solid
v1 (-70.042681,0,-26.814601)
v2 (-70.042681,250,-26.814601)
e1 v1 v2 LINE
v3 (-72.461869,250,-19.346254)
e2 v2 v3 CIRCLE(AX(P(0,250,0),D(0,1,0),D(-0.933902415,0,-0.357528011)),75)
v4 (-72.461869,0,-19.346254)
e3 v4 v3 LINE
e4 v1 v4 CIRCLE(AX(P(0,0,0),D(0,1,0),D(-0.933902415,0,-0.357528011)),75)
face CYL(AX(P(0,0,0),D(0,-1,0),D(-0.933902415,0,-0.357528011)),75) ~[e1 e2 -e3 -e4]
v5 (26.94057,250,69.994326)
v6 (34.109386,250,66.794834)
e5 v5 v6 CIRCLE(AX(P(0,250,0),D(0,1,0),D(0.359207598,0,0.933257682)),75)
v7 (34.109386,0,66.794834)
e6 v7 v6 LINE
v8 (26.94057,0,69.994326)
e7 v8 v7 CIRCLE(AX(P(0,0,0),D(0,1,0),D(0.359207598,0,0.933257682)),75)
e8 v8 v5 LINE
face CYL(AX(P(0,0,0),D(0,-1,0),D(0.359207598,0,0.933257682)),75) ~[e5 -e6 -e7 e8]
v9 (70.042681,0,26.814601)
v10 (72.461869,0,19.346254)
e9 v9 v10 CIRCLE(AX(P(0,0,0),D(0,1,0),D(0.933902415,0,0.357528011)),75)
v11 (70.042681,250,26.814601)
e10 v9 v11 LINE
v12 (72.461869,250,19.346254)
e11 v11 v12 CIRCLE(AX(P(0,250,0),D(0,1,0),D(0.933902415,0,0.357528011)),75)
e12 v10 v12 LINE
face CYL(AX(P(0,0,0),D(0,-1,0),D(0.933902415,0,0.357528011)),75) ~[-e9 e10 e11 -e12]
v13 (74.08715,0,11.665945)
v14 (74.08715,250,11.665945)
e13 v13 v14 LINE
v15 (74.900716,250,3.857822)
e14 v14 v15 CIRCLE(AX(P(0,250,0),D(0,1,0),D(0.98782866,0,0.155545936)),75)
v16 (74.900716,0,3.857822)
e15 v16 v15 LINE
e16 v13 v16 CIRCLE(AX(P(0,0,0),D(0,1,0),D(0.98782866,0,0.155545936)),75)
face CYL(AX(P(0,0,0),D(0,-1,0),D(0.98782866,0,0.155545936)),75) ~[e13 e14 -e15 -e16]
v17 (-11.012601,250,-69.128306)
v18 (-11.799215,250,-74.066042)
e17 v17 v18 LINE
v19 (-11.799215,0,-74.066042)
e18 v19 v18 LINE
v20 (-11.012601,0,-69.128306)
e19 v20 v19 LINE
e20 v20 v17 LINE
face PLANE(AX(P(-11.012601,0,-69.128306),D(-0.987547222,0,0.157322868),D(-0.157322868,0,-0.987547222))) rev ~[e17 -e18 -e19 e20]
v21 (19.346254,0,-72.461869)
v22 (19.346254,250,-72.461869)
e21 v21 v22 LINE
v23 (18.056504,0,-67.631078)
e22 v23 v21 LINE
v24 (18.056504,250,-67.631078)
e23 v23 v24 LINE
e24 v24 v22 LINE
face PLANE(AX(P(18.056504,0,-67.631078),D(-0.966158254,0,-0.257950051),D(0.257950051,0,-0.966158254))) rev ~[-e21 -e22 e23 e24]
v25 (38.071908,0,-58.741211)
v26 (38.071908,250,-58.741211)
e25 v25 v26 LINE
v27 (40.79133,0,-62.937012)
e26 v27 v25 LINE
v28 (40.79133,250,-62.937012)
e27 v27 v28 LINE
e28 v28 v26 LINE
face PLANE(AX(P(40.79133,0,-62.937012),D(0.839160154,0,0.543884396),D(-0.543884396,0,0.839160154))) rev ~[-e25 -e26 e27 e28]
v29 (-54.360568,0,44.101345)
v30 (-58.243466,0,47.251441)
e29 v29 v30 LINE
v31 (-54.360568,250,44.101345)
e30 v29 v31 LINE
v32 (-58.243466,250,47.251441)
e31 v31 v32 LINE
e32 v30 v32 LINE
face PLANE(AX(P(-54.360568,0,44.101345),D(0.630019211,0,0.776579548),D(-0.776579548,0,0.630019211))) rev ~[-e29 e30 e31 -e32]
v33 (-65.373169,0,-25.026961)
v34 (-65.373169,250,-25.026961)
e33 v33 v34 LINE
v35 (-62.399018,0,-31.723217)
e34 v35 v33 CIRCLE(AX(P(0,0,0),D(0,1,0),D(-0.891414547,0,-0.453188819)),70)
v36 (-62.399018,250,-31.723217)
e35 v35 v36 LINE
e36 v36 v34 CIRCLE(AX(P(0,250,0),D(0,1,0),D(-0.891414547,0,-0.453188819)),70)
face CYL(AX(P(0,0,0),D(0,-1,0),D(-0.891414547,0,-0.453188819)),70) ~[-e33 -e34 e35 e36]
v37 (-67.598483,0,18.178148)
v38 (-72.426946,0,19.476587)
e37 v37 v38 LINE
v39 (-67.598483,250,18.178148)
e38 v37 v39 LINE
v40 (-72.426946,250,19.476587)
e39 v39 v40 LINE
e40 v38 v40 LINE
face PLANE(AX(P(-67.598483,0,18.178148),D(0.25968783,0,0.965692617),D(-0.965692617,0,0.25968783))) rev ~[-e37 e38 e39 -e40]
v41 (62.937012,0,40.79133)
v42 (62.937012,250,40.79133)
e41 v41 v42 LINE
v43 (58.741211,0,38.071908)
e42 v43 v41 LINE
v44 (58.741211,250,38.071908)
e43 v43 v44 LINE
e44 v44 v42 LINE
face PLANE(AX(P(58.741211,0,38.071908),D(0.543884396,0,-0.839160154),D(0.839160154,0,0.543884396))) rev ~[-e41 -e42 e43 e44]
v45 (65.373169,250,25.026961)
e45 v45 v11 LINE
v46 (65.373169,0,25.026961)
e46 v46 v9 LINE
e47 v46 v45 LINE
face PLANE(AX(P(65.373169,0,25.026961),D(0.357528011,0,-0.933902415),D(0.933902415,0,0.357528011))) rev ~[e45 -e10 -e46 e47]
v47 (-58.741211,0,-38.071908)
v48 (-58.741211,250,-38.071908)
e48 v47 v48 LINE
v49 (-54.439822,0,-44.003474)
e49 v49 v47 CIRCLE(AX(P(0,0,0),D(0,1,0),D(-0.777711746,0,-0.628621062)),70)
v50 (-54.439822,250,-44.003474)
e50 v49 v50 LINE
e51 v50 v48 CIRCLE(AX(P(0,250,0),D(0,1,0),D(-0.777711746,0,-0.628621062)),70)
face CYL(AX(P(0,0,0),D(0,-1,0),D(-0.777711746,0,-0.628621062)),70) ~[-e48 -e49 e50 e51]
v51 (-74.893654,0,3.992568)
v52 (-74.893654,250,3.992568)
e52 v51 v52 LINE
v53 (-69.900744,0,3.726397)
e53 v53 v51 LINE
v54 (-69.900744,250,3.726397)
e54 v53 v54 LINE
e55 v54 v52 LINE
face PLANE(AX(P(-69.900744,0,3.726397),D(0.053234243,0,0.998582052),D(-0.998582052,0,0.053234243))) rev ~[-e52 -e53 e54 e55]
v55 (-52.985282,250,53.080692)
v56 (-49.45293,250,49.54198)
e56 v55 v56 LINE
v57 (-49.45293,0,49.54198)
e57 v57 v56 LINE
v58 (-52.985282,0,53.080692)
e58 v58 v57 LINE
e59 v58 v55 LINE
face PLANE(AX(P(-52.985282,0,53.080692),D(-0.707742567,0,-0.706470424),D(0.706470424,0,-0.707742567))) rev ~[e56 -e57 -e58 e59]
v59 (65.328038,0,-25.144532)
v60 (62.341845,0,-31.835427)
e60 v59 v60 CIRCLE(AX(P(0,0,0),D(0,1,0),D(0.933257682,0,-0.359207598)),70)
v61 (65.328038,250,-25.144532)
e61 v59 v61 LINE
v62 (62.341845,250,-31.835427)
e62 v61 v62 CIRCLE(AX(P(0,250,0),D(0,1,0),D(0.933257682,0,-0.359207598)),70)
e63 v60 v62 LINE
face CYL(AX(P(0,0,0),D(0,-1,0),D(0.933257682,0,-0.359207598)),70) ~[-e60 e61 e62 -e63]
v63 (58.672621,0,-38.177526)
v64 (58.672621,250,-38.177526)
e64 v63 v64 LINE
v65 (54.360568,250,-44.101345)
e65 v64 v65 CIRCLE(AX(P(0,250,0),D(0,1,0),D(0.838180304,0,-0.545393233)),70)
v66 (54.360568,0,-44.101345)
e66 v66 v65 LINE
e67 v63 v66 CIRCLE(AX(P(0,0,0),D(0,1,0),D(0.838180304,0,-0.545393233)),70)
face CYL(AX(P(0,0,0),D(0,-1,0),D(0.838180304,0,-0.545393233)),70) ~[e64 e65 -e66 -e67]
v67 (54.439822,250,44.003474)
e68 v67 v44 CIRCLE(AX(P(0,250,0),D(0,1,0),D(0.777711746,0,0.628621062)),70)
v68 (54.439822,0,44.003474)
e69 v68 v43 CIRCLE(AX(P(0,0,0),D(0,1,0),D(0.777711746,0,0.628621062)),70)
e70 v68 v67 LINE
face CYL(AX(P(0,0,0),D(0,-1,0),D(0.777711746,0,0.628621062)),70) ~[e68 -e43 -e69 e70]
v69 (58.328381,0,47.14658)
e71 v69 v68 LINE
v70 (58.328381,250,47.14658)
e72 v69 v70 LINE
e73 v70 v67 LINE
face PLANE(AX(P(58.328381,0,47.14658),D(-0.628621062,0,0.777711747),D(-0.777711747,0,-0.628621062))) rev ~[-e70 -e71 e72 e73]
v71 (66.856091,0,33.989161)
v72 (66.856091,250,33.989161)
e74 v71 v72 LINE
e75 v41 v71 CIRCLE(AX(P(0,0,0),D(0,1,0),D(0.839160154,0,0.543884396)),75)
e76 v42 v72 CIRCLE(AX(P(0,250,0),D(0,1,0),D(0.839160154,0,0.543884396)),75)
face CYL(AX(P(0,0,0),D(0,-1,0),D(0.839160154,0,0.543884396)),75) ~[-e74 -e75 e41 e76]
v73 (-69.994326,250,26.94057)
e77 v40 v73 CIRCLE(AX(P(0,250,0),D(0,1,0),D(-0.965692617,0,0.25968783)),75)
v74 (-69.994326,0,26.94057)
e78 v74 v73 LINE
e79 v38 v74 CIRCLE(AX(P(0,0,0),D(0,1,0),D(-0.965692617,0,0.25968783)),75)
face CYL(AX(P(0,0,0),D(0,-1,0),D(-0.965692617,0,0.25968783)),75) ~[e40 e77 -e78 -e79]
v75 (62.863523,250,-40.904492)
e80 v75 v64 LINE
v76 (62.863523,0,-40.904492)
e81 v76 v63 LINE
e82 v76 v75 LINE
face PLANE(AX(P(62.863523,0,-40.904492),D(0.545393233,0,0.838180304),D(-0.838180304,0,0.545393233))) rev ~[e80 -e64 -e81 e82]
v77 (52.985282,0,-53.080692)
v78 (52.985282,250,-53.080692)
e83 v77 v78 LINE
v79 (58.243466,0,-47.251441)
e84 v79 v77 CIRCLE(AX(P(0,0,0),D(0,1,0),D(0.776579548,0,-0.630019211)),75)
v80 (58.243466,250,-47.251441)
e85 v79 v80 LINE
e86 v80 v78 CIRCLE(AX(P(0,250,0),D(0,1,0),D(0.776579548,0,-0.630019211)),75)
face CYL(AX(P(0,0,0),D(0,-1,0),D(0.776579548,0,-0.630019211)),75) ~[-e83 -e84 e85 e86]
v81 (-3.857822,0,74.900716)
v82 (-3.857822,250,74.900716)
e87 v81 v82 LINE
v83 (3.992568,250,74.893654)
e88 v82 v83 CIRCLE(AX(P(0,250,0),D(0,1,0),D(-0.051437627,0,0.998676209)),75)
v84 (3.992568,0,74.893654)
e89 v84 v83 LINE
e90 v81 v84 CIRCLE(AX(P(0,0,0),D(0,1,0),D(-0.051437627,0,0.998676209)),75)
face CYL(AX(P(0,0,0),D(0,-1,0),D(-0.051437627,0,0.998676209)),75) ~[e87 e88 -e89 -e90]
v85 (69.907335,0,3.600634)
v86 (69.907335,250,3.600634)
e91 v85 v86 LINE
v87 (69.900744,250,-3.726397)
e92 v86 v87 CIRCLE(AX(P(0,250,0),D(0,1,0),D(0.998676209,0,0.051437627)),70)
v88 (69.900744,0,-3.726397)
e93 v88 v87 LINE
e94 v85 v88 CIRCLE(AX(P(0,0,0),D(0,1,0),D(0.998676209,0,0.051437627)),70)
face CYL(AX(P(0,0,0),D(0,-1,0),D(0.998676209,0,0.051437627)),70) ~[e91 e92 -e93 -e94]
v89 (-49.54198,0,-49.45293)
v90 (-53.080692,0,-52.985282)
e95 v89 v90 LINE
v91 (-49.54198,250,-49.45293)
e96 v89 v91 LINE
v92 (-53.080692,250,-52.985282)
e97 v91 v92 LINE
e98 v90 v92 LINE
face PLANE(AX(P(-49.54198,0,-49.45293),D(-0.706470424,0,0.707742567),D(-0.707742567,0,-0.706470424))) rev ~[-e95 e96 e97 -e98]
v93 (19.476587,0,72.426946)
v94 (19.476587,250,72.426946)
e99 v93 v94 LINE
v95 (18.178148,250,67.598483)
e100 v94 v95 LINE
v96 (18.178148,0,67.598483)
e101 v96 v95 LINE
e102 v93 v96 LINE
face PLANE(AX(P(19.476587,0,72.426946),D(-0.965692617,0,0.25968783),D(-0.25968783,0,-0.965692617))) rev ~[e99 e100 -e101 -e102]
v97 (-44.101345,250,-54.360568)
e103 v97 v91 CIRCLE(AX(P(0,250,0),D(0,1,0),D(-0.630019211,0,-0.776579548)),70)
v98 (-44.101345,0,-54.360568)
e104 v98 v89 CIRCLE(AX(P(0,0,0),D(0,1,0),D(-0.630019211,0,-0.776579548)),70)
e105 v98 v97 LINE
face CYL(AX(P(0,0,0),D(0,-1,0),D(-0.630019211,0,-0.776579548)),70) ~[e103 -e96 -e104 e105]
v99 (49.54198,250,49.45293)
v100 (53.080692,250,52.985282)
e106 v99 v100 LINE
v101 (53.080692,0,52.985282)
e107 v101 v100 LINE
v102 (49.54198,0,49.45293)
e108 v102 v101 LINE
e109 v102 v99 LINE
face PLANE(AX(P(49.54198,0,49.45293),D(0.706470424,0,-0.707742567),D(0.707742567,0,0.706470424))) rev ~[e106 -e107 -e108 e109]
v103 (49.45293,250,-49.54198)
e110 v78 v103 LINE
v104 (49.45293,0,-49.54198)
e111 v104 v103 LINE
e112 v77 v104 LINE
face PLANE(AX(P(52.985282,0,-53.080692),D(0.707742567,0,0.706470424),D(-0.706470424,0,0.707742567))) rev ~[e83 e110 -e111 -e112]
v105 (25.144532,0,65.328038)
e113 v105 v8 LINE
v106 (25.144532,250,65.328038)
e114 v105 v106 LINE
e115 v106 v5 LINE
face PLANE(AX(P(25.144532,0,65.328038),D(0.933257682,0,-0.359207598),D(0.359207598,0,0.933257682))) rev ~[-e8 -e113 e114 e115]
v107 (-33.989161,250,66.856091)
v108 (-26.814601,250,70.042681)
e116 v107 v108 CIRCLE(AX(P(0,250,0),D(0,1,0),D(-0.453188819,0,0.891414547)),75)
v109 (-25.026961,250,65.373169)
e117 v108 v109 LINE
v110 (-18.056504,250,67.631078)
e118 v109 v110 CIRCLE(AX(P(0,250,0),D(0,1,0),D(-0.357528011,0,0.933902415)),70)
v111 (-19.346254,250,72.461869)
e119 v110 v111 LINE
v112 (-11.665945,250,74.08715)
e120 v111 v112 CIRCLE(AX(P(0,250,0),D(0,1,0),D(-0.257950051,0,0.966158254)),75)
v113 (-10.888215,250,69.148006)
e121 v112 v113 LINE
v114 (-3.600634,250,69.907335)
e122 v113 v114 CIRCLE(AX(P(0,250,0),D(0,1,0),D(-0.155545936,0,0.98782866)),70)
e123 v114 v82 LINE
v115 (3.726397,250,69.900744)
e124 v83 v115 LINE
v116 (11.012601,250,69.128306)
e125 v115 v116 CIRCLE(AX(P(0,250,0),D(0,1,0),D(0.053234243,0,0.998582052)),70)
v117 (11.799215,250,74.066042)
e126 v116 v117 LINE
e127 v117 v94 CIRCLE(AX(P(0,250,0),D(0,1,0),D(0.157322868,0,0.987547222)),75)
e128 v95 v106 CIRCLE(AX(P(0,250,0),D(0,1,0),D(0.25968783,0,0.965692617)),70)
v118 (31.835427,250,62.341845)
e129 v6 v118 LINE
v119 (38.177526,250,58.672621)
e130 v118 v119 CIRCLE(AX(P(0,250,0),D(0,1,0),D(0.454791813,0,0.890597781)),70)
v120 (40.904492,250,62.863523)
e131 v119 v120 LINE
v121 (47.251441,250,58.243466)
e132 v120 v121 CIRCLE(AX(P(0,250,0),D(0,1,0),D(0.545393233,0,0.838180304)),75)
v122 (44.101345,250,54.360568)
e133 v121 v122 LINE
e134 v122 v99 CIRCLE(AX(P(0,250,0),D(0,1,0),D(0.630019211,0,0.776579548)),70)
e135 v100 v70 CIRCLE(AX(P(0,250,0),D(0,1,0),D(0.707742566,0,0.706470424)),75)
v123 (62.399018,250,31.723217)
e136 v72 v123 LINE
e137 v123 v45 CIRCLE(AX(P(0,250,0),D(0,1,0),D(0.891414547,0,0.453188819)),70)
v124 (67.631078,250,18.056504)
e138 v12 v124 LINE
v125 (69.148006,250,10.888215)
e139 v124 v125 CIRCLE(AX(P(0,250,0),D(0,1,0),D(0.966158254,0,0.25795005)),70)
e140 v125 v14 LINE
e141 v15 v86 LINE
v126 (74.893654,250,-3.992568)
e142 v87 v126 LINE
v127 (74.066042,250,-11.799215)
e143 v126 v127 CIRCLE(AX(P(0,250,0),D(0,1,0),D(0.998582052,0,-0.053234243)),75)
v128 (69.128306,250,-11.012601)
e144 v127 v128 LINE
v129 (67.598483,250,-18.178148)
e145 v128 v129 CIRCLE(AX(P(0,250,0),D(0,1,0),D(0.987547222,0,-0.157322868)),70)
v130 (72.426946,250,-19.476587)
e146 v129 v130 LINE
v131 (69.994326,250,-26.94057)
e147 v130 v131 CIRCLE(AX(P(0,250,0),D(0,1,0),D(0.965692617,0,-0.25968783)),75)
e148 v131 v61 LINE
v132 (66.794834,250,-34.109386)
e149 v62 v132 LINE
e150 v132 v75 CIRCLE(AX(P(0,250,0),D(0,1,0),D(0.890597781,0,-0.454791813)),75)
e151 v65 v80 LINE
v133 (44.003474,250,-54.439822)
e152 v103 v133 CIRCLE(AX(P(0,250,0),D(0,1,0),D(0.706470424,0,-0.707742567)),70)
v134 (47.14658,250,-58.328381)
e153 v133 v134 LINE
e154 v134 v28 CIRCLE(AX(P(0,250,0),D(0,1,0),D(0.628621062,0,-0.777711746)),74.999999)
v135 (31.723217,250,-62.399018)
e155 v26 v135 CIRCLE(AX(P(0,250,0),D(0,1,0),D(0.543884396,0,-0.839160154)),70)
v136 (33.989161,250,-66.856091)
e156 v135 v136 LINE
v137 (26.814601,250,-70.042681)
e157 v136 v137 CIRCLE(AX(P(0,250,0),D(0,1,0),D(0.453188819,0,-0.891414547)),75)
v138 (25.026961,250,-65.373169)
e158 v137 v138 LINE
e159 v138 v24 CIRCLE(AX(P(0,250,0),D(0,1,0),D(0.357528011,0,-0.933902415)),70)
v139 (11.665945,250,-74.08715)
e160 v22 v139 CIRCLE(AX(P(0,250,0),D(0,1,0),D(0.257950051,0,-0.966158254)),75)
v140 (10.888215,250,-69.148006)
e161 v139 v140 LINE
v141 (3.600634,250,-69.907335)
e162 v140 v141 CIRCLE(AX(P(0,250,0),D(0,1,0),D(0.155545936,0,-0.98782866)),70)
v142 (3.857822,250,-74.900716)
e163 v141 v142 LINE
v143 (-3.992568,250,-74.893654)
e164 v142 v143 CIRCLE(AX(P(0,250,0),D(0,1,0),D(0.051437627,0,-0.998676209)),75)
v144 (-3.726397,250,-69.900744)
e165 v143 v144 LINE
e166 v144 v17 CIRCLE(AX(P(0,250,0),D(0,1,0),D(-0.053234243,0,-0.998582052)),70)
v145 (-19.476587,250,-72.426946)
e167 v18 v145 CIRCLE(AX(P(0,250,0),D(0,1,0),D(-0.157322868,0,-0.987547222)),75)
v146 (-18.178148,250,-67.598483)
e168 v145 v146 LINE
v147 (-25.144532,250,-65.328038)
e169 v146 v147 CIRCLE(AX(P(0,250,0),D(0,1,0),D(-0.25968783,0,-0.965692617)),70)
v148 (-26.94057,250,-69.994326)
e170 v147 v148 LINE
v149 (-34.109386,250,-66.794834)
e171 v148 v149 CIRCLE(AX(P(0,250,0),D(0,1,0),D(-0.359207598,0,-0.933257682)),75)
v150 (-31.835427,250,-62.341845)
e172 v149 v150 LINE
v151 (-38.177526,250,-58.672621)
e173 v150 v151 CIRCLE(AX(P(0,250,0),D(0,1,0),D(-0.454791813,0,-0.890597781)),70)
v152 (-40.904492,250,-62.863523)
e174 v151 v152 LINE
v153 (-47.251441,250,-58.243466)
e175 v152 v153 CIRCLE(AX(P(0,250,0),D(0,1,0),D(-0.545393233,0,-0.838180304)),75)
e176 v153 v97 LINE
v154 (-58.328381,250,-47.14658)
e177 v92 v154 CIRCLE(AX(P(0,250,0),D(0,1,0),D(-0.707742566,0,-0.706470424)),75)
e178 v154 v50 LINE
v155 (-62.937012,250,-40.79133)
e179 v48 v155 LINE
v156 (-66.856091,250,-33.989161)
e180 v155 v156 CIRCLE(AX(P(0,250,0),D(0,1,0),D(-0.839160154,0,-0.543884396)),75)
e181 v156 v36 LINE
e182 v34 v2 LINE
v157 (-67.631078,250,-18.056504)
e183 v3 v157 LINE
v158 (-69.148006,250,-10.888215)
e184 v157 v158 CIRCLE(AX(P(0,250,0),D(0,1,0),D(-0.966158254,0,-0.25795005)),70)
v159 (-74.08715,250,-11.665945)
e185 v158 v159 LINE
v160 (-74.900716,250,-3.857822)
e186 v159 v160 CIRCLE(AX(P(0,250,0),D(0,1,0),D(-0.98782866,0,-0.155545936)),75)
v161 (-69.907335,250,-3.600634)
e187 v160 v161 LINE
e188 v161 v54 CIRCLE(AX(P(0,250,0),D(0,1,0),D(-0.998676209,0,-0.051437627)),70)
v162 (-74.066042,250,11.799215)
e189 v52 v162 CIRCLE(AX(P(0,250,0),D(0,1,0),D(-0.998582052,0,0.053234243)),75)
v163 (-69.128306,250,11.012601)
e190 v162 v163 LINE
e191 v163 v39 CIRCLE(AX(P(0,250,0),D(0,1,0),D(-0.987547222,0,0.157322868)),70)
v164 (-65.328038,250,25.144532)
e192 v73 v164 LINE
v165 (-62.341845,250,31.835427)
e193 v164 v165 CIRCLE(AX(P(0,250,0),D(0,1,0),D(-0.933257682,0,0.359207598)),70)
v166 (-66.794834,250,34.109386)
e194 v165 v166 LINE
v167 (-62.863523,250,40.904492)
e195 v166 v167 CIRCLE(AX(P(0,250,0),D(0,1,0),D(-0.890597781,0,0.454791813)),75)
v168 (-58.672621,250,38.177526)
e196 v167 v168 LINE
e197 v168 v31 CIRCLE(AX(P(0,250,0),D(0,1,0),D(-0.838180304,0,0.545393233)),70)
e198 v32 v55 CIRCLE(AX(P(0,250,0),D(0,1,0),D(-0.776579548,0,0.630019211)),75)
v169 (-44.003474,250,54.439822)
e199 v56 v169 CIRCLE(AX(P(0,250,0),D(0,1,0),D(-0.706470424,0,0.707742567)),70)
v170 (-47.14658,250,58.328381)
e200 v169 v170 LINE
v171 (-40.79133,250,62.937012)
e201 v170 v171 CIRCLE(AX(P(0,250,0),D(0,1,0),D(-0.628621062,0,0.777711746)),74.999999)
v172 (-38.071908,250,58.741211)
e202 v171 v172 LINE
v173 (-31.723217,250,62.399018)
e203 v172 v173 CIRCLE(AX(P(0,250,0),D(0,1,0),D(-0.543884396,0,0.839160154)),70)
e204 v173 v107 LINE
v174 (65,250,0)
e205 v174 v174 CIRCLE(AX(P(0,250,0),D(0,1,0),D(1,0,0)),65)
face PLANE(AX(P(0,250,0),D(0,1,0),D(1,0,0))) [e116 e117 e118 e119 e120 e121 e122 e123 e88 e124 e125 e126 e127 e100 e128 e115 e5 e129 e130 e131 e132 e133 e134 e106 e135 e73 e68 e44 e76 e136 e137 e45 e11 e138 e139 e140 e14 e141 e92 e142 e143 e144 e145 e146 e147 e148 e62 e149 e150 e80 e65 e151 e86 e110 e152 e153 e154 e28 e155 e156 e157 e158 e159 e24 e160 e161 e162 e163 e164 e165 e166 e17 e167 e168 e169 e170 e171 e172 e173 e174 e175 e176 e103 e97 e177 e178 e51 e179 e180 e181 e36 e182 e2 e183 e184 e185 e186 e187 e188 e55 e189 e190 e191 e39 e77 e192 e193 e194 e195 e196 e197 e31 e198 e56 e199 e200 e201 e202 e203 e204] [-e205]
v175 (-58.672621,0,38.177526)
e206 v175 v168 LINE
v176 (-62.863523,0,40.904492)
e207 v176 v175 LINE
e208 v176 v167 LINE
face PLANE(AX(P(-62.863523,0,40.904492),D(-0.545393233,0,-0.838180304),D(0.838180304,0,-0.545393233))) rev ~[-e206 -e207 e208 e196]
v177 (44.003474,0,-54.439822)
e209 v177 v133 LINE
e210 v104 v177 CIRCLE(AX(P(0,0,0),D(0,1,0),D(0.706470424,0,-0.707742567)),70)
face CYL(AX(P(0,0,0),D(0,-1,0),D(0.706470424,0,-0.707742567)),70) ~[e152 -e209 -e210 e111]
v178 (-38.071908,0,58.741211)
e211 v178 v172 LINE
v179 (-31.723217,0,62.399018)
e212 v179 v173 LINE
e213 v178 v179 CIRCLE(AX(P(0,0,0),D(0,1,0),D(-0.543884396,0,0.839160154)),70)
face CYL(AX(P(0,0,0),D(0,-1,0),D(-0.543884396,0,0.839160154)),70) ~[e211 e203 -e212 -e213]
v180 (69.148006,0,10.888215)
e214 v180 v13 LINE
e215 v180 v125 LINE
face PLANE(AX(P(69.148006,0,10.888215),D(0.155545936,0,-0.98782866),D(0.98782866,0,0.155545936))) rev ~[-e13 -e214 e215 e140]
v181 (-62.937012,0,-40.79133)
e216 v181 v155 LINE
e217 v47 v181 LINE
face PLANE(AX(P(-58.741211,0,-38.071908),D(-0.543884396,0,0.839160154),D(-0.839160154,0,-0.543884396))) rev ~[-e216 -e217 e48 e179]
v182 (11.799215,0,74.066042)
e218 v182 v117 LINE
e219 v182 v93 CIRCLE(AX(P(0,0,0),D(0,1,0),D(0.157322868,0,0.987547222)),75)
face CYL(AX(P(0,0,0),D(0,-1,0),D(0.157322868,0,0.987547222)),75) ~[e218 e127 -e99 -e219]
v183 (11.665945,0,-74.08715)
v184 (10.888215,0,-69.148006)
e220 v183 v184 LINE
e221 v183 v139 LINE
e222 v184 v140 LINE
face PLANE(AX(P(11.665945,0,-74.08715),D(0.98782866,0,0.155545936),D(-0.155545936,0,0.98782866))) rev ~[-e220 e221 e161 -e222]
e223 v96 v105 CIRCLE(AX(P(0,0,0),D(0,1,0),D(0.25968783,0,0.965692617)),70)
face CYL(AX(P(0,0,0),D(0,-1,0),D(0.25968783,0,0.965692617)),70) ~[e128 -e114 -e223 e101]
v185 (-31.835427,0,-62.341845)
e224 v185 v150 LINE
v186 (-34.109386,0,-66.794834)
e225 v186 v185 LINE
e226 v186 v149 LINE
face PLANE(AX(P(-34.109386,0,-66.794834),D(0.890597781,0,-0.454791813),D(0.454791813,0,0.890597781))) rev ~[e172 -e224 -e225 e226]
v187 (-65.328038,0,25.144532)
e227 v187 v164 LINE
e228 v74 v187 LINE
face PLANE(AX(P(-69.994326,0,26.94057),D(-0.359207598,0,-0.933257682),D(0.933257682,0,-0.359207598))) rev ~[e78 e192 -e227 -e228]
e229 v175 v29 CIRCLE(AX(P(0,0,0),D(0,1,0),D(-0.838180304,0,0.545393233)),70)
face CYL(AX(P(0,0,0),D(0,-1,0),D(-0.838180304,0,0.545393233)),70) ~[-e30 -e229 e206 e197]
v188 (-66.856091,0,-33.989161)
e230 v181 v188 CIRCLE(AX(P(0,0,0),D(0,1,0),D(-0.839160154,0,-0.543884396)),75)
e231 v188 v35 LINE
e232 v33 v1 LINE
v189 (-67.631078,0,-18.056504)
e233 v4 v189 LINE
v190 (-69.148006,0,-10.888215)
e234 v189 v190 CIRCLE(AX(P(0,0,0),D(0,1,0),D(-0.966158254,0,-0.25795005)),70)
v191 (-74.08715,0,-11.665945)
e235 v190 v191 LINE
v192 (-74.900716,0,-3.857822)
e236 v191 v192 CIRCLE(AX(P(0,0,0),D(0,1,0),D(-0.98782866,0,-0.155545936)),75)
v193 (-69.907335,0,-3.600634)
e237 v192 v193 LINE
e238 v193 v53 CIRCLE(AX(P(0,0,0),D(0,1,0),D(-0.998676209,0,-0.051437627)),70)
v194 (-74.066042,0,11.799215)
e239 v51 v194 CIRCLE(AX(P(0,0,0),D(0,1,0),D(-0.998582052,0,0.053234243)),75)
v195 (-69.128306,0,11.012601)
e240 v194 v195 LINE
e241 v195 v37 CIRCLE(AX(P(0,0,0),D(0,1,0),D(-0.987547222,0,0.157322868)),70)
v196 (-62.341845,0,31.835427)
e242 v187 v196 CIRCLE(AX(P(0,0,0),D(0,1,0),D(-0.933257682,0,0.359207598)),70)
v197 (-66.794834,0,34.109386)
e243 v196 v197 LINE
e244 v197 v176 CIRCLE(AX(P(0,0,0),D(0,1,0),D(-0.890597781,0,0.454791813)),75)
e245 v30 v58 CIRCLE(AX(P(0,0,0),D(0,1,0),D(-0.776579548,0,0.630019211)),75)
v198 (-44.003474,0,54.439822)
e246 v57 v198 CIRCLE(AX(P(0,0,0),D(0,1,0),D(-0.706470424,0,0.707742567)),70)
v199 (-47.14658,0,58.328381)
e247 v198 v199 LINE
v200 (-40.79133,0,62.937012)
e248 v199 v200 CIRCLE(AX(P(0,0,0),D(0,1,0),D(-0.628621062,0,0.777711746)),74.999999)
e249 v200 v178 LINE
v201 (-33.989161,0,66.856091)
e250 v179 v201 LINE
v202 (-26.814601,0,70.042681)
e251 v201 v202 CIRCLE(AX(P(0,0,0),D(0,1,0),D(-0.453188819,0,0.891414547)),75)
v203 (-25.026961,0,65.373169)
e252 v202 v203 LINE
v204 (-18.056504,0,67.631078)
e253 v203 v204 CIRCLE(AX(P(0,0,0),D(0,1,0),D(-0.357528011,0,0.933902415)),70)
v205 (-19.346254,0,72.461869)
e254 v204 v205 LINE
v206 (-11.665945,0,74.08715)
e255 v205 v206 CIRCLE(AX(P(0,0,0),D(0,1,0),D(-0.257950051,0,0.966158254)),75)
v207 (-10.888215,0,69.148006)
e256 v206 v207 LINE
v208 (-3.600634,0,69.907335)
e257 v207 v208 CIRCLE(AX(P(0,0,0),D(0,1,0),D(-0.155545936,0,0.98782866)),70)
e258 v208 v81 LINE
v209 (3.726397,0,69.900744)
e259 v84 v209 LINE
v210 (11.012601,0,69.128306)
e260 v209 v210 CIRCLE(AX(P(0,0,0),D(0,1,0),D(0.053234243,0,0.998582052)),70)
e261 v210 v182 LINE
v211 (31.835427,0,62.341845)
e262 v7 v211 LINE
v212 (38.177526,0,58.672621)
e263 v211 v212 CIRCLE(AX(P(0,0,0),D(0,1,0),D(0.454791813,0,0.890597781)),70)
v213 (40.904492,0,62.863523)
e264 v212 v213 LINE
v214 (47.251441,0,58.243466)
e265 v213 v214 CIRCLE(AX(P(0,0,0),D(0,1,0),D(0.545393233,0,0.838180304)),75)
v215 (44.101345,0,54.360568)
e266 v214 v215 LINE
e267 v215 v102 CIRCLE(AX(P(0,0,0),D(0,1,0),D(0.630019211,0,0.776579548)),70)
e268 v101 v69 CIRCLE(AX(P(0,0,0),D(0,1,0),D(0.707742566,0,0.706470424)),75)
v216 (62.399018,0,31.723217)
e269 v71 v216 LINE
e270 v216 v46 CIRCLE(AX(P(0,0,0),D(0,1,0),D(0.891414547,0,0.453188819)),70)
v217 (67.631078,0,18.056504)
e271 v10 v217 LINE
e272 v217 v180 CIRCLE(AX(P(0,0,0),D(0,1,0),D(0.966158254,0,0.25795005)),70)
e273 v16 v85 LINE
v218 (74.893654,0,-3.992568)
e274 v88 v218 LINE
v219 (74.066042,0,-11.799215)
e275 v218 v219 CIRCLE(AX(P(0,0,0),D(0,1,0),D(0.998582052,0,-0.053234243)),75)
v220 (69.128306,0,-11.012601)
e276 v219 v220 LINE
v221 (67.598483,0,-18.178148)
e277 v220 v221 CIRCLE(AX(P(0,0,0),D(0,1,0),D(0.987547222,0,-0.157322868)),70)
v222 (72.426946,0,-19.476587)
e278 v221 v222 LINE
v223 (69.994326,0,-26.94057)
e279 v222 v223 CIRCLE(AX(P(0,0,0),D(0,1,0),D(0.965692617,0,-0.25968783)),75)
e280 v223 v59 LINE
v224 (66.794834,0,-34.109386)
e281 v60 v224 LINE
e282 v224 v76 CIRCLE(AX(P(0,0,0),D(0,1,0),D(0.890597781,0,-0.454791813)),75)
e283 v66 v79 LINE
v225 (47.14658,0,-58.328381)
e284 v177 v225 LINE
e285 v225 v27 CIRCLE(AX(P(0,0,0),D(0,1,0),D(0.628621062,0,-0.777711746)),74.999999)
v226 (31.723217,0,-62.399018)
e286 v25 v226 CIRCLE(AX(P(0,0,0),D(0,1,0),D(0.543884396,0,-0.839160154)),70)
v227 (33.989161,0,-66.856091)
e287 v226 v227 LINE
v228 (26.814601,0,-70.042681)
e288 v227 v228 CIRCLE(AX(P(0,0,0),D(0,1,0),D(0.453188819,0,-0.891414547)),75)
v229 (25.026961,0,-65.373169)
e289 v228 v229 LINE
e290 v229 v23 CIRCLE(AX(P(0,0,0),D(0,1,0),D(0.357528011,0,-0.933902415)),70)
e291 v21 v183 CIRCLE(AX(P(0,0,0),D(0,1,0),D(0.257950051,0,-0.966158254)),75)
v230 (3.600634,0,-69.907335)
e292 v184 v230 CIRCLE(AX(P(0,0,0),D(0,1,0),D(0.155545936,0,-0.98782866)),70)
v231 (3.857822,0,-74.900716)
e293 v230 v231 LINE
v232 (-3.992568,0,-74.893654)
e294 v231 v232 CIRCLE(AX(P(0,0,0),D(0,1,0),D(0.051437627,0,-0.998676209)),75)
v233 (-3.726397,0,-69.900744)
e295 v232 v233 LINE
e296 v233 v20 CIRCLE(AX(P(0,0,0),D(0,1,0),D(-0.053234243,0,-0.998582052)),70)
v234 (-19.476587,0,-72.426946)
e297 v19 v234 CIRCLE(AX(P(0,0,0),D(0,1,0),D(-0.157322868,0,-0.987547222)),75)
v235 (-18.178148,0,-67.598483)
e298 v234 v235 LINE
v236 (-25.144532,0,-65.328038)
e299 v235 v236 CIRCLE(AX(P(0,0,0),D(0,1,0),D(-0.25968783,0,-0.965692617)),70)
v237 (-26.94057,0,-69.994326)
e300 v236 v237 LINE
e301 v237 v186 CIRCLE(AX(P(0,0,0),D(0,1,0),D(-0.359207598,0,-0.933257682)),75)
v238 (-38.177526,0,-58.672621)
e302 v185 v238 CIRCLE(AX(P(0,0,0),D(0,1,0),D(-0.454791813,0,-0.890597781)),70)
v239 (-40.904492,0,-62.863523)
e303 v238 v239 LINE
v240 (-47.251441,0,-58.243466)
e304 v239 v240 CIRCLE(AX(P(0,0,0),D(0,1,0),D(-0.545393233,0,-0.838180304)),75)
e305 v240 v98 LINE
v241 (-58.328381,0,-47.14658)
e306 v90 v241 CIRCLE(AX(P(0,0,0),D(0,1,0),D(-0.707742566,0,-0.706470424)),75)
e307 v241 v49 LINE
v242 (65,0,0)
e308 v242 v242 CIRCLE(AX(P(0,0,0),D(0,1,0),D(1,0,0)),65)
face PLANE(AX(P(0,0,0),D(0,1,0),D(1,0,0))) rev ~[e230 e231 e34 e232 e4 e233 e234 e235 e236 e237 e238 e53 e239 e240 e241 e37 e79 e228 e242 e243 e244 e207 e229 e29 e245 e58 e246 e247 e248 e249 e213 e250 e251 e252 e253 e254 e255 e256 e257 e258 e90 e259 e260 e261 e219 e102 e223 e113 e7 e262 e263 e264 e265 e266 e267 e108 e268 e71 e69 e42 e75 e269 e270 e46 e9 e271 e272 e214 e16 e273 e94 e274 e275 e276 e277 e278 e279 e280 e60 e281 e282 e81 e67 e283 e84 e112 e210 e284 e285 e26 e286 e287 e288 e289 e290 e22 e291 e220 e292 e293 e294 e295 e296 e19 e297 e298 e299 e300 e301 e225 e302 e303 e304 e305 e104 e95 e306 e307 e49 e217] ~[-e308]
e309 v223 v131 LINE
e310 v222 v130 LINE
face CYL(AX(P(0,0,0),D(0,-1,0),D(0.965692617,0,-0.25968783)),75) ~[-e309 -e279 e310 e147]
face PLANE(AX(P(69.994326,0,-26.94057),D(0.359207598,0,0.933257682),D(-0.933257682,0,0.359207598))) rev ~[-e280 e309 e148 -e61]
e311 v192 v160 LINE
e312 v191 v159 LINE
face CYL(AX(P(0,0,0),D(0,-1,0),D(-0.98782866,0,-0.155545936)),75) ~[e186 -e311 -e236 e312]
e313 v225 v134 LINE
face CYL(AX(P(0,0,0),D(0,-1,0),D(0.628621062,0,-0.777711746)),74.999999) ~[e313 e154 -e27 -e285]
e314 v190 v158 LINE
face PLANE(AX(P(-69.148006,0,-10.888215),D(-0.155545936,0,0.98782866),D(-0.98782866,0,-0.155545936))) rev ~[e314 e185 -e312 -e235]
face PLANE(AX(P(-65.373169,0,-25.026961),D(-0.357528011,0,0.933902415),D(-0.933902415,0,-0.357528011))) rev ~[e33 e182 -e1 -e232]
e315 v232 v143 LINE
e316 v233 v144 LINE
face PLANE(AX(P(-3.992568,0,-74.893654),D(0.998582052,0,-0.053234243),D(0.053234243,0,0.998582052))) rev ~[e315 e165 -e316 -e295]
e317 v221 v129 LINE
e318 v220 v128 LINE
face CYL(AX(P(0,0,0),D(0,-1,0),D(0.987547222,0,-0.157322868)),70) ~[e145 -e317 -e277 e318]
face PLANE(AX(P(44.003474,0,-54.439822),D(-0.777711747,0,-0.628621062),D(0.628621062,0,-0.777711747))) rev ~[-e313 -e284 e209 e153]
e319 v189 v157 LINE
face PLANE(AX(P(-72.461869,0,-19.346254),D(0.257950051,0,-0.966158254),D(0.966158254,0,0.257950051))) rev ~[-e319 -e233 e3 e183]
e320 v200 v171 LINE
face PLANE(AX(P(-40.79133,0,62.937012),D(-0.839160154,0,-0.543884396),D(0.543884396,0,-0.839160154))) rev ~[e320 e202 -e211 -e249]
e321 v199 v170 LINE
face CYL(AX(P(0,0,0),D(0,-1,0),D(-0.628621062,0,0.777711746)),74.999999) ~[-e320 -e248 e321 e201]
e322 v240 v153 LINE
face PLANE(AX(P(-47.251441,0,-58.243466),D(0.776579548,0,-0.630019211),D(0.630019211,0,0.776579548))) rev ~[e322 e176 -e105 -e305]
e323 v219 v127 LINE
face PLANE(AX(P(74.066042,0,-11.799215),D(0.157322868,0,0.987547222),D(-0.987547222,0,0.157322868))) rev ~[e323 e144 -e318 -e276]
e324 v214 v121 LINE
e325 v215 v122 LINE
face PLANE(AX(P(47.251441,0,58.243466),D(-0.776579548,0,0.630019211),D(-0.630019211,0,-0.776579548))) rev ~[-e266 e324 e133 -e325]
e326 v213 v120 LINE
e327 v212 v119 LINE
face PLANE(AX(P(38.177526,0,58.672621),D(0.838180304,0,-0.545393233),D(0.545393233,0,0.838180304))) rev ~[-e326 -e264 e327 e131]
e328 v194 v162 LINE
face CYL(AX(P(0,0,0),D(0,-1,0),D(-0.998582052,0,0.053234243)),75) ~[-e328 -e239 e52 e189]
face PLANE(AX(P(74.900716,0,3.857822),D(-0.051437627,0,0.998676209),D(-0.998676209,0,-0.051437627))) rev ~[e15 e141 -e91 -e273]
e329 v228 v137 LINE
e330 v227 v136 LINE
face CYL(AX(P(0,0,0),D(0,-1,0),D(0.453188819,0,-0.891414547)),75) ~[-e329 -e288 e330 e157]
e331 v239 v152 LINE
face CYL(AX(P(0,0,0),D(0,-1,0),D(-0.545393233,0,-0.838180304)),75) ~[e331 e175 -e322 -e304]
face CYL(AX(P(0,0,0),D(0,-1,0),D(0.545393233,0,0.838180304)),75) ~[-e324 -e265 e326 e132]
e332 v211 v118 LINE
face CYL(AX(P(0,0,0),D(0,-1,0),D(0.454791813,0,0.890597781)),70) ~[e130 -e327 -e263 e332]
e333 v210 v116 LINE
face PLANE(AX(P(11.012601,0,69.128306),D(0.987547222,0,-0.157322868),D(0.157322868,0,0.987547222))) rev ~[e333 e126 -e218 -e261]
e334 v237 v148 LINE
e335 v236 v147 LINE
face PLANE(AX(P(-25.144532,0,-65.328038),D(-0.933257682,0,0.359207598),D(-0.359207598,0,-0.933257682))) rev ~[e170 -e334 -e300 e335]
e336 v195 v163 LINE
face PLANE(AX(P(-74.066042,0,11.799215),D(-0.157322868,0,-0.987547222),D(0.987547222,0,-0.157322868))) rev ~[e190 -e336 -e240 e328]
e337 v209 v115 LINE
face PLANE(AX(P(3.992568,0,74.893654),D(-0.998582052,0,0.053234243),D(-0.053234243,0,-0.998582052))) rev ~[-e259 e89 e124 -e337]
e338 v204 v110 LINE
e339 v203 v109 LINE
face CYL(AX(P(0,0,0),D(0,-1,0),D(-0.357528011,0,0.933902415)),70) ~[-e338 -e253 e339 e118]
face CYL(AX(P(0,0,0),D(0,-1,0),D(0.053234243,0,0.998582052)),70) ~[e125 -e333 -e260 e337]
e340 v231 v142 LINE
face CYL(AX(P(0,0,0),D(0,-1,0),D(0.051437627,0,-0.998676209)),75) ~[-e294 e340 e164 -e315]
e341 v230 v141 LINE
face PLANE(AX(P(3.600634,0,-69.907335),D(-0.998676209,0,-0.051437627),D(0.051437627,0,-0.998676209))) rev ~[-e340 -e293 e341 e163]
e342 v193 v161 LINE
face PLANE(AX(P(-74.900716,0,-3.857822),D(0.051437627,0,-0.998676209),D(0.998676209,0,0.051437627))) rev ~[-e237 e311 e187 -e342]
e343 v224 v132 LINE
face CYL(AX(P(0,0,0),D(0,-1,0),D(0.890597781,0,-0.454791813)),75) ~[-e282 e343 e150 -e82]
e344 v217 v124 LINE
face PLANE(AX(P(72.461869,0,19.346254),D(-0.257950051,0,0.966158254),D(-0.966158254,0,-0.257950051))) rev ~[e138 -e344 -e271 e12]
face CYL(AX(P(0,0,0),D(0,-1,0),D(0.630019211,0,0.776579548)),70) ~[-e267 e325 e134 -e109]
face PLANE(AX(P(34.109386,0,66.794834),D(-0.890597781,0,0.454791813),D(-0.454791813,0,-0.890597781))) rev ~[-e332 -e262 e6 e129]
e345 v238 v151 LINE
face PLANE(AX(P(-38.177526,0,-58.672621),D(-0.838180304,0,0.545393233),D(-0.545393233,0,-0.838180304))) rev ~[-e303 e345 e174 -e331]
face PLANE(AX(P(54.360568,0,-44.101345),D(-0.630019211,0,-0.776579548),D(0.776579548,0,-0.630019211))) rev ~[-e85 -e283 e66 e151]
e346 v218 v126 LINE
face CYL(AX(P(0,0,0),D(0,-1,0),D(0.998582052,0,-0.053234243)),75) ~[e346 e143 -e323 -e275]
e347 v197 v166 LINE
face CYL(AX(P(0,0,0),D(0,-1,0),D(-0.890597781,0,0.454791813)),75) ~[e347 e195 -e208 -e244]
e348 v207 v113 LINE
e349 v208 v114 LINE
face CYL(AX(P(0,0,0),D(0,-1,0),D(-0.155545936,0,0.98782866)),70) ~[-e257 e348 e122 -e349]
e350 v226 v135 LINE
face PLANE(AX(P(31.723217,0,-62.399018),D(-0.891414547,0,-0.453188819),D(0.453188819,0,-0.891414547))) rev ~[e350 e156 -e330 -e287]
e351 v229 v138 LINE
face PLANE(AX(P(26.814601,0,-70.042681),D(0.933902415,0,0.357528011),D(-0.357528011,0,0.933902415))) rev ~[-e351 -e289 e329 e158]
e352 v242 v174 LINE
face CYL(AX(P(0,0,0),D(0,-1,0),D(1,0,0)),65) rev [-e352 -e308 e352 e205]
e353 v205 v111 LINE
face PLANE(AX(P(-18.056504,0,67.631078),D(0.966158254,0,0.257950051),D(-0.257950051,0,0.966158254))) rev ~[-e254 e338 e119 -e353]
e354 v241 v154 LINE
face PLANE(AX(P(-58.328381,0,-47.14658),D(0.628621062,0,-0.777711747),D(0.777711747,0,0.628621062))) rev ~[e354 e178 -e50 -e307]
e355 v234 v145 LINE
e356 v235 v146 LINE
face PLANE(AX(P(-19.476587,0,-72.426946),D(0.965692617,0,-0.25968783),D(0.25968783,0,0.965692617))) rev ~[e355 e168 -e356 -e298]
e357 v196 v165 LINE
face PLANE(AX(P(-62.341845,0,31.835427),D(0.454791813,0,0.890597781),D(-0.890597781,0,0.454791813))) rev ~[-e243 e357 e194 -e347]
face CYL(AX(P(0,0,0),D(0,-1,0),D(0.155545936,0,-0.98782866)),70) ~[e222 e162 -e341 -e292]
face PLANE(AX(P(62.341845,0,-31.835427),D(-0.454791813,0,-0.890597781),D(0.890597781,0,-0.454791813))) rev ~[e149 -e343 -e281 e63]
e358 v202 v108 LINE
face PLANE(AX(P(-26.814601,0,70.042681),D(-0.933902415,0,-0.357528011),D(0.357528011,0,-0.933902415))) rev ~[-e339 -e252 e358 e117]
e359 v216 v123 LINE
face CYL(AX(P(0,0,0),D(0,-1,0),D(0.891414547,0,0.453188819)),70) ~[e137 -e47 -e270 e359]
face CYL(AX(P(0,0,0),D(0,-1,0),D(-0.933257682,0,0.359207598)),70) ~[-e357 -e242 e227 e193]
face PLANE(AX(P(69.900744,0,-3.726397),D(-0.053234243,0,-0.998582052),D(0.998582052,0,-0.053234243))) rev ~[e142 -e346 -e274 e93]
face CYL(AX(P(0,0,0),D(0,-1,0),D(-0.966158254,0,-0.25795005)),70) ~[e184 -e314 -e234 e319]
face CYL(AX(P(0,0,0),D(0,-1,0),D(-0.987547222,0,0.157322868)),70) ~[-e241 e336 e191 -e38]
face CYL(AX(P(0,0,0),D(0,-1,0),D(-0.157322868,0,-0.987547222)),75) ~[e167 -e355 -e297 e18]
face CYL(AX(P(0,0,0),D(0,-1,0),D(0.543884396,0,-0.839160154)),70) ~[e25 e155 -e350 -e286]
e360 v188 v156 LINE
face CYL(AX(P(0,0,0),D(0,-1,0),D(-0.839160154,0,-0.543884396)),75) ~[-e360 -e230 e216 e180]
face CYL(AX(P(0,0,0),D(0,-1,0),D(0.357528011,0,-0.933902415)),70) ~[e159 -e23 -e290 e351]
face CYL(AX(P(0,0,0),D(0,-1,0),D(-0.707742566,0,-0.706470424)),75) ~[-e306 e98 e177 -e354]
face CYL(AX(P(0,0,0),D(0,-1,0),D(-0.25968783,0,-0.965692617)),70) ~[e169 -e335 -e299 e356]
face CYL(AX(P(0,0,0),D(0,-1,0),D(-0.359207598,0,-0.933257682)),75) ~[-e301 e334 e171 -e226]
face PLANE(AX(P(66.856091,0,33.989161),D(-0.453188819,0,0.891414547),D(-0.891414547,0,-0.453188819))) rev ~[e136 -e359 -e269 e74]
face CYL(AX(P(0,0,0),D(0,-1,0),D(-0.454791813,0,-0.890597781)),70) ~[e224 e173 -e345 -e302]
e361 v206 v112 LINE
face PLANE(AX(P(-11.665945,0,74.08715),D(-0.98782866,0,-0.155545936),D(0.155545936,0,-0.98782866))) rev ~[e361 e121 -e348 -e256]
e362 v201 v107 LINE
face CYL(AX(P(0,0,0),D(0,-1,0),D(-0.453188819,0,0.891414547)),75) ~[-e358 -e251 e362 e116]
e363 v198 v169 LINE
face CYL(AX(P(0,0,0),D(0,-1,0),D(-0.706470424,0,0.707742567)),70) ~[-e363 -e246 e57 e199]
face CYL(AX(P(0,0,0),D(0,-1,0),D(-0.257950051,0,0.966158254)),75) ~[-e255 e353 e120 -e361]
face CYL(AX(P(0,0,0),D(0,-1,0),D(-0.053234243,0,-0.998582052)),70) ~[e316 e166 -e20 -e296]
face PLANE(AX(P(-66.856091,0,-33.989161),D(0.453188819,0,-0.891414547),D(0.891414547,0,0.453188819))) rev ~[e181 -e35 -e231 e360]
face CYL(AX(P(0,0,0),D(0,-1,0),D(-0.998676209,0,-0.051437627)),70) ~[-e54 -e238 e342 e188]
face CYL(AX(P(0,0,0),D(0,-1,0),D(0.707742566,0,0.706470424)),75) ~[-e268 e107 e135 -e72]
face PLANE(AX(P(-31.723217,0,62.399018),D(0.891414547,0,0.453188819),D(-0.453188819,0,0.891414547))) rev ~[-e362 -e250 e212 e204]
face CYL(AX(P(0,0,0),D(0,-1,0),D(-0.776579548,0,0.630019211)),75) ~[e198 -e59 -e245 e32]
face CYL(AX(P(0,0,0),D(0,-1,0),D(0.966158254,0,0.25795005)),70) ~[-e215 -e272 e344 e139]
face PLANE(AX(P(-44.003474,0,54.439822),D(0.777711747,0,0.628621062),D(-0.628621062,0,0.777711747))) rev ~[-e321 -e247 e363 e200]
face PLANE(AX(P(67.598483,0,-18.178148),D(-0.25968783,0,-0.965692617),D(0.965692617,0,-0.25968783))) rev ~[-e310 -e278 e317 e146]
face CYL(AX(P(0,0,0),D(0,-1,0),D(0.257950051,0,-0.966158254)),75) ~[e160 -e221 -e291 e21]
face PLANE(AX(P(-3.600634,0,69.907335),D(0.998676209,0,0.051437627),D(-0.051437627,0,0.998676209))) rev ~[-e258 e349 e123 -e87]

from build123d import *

# Parameters (mm, degrees)
SKETCH2_R           = 65
BOSS_EXTRUDE1_DEPTH = 250


with BuildPart() as part:
    # Sketch2 → Boss-Extrude1 (new body)
    with BuildSketch(Plane(origin=(0, 0, 0), x_dir=(1, 0, 0), z_dir=(0, 1, 0))):
        with BuildLine():
            Line((-11.012600748, 69.128305525), (-11.799215087, 74.066041634))
            ThreePointArc((-11.799215087, 74.066041634), (-15.659361787, 73.347013494), (-19.476587264, 72.426946288))
            Line((-19.476587264, 72.426946288), (-18.178148113, 67.598483202))
            ThreePointArc((-18.178148113, 67.598483202), (-21.691066852, 66.554471066), (-25.144531884, 65.32803775))
            Line((-25.144531884, 65.32803775), (-26.940569876, 69.994326161))
            ThreePointArc((-26.940569876, 69.994326161), (-30.566868752, 68.488440884), (-34.109385966, 66.79483355))
            Line((-34.109385966, 66.79483355), (-31.835426902, 62.341844647))
            ThreePointArc((-31.835426902, 62.341844647), (-35.054517609, 60.590269806), (-38.177526321, 58.672621247))
            Line((-38.177526321, 58.672621247), (-40.904492486, 62.863522765))
            ThreePointArc((-40.904492486, 62.863522765), (-44.138456878, 60.636594763), (-47.251440827, 58.243466069))
            Line((-47.251440827, 58.243466069), (-44.101344772, 54.360568332))
            ThreePointArc((-44.101344772, 54.360568332), (-46.885917737, 51.977983012), (-49.541979661, 49.452929653))
            Line((-49.541979661, 49.452929653), (-53.080692494, 52.985281771))
            ThreePointArc((-53.080692494, 52.985281771), (-55.780982638, 50.134638485), (-58.328380986, 47.146579638))
            Line((-58.328380986, 47.146579638), (-54.439822253, 44.003474329))
            ThreePointArc((-54.439822253, 44.003474329), (-56.668178276, 41.094008942), (-58.741210761, 38.071907732))
            Line((-58.741210761, 38.071907732), (-62.937011529, 40.791329713))
            ThreePointArc((-62.937011529, 40.791329713), (-64.985611789, 37.441557932), (-66.856091005, 33.989161443))
            Line((-66.856091005, 33.989161443), (-62.399018271, 31.723217347))
            ThreePointArc((-62.399018271, 31.723217347), (-63.9737675, 28.41402949), (-65.373169079, 25.026960753))
            Line((-65.373169079, 25.026960753), (-70.042681156, 26.814600807))
            ThreePointArc((-70.042681156, 26.814600807), (-71.350057871, 23.112101633), (-72.461869036, 19.346253794))
            Line((-72.461869036, 19.346253794), (-67.631077767, 18.056503541))
            ThreePointArc((-67.631077767, 18.056503541), (-68.483396104, 14.492220604), (-69.148006213, 10.888215497))
            Line((-69.148006213, 10.888215497), (-74.087149514, 11.665945176))
            ThreePointArc((-74.087149514, 11.665945176), (-74.596164047, 7.772535588), (-74.900715679, 3.857822021))
            Line((-74.900715679, 3.857822021), (-69.907334634, 3.600633886))
            ThreePointArc((-69.907334634, 3.600633886), (-69.999971679, -0.062967864), (-69.900743667, -3.726397024))
            Line((-69.900743667, -3.726397024), (-74.893653929, -3.99256824))
            ThreePointArc((-74.893653929, -3.99256824), (-74.582059903, -7.906727558), (-74.066041634, -11.799215087))
            Line((-74.066041634, -11.799215087), (-69.128305525, -11.012600748))
            ThreePointArc((-69.128305525, -11.012600748), (-68.457212594, -14.615404334), (-67.598483202, -18.178148113))
            Line((-67.598483202, -18.178148113), (-72.426946288, -19.476587264))
            ThreePointArc((-72.426946288, -19.476587264), (-71.308361856, -23.24042877), (-69.994326161, -26.940569876))
            Line((-69.994326161, -26.940569876), (-65.32803775, -25.144531884))
            ThreePointArc((-65.32803775, -25.144531884), (-63.922544825, -28.529077502), (-62.341844647, -31.835426902))
            Line((-62.341844647, -31.835426902), (-66.79483355, -34.109385966))
            ThreePointArc((-66.79483355, -34.109385966), (-64.918146221, -37.558411724), (-62.863522765, -40.904492486))
            Line((-62.863522765, -40.904492486), (-58.672621247, -38.177526321))
            ThreePointArc((-58.672621247, -38.177526321), (-56.594155112, -41.195893086), (-54.360568332, -44.101344772))
            Line((-54.360568332, -44.101344772), (-58.243466069, -47.251440827))
            ThreePointArc((-58.243466069, -47.251440827), (-55.690696084, -50.234911861), (-52.985281771, -53.080692494))
            Line((-52.985281771, -53.080692494), (-49.452929653, -49.541979661))
            ThreePointArc((-49.452929653, -49.541979661), (-46.792329252, -52.062250462), (-44.003474329, -54.439822253))
            Line((-44.003474329, -54.439822253), (-47.146579638, -58.328380986))
            ThreePointArc((-47.146579638, -58.328380986), (-44.029295295, -60.715905296), (-40.791329713, -62.937011529))
            Line((-40.791329713, -62.937011529), (-38.071907732, -58.741210761))
            ThreePointArc((-38.071907732, -58.741210761), (-34.94545407, -60.65323767), (-31.723217347, -62.399018271))
            Line((-31.723217347, -62.399018271), (-33.989161443, -66.856091005))
            ThreePointArc((-33.989161443, -66.856091005), (-30.443603025, -68.543322321), (-26.814600807, -70.042681156))
            Line((-26.814600807, -70.042681156), (-25.026960753, -65.373169079))
            ThreePointArc((-25.026960753, -65.373169079), (-21.571294857, -66.593387346), (-18.056503541, -67.631077767))
            Line((-18.056503541, -67.631077767), (-19.346253794, -72.461869036))
            ThreePointArc((-19.346253794, -72.461869036), (-15.527379218, -73.375067255), (-11.665945176, -74.087149514))
            Line((-11.665945176, -74.087149514), (-10.888215497, -69.148006213))
            ThreePointArc((-10.888215497, -69.148006213), (-7.254366549, -69.623086444), (-3.600633886, -69.907334634))
            Line((-3.600633886, -69.907334634), (-3.857822021, -74.900715679))
            ThreePointArc((-3.857822021, -74.900715679), (0.067465569, -74.999969656), (3.99256824, -74.893653929))
            Line((3.99256824, -74.893653929), (3.726397024, -69.900743667))
            ThreePointArc((3.726397024, -69.900743667), (7.379612388, -69.609922576), (11.012600748, -69.128305525))
            Line((11.012600748, -69.128305525), (11.799215087, -74.066041634))
            ThreePointArc((11.799215087, -74.066041634), (15.659361787, -73.347013494), (19.476587264, -72.426946288))
            Line((19.476587264, -72.426946288), (18.178148113, -67.598483202))
            ThreePointArc((18.178148113, -67.598483202), (21.691066852, -66.554471066), (25.144531884, -65.32803775))
            Line((25.144531884, -65.32803775), (26.940569876, -69.994326161))
            ThreePointArc((26.940569876, -69.994326161), (30.566868752, -68.488440884), (34.109385966, -66.79483355))
            Line((34.109385966, -66.79483355), (31.835426902, -62.341844647))
            ThreePointArc((31.835426902, -62.341844647), (35.054517609, -60.590269806), (38.177526321, -58.672621247))
            Line((38.177526321, -58.672621247), (40.904492486, -62.863522765))
            ThreePointArc((40.904492486, -62.863522765), (44.138456878, -60.636594763), (47.251440827, -58.243466069))
            Line((47.251440827, -58.243466069), (44.101344772, -54.360568332))
            ThreePointArc((44.101344772, -54.360568332), (46.885917737, -51.977983012), (49.541979661, -49.452929653))
            Line((49.541979661, -49.452929653), (53.080692494, -52.985281771))
            ThreePointArc((53.080692494, -52.985281771), (55.780982638, -50.134638485), (58.328380986, -47.146579638))
            Line((58.328380986, -47.146579638), (54.439822253, -44.003474329))
            ThreePointArc((54.439822253, -44.003474329), (56.668178276, -41.094008942), (58.741210761, -38.071907732))
            Line((58.741210761, -38.071907732), (62.937011529, -40.791329713))
            ThreePointArc((62.937011529, -40.791329713), (64.985611789, -37.441557932), (66.856091005, -33.989161443))
            Line((66.856091005, -33.989161443), (62.399018271, -31.723217347))
            ThreePointArc((62.399018271, -31.723217347), (63.9737675, -28.41402949), (65.373169079, -25.026960753))
            Line((65.373169079, -25.026960753), (70.042681156, -26.814600807))
            ThreePointArc((70.042681156, -26.814600807), (71.350057871, -23.112101633), (72.461869036, -19.346253794))
            Line((72.461869036, -19.346253794), (67.631077767, -18.056503541))
            ThreePointArc((67.631077767, -18.056503541), (68.483396104, -14.492220604), (69.148006213, -10.888215497))
            Line((69.148006213, -10.888215497), (74.087149514, -11.665945176))
            ThreePointArc((74.087149514, -11.665945176), (74.596164047, -7.772535588), (74.900715679, -3.857822021))
            Line((74.900715679, -3.857822021), (69.907334634, -3.600633886))
            ThreePointArc((69.907334634, -3.600633886), (69.999971679, 0.062967864), (69.900743667, 3.726397024))
            Line((69.900743667, 3.726397024), (74.893653929, 3.99256824))
            ThreePointArc((74.893653929, 3.99256824), (74.582059903, 7.906727558), (74.066041634, 11.799215087))
            Line((74.066041634, 11.799215087), (69.128305525, 11.012600748))
            ThreePointArc((69.128305525, 11.012600748), (68.457212594, 14.615404334), (67.598483202, 18.178148113))
            Line((67.598483202, 18.178148113), (72.426946288, 19.476587264))
            ThreePointArc((72.426946288, 19.476587264), (71.308361856, 23.24042877), (69.994326161, 26.940569876))
            Line((69.994326161, 26.940569876), (65.32803775, 25.144531884))
            ThreePointArc((65.32803775, 25.144531884), (63.922544825, 28.529077502), (62.341844647, 31.835426902))
            Line((62.341844647, 31.835426902), (66.79483355, 34.109385966))
            ThreePointArc((66.79483355, 34.109385966), (64.918146221, 37.558411724), (62.863522765, 40.904492486))
            Line((62.863522765, 40.904492486), (58.672621247, 38.177526321))
            ThreePointArc((58.672621247, 38.177526321), (56.594155112, 41.195893086), (54.360568332, 44.101344772))
            Line((54.360568332, 44.101344772), (58.243466069, 47.251440827))
            ThreePointArc((58.243466069, 47.251440827), (55.690696084, 50.234911861), (52.985281771, 53.080692494))
            Line((52.985281771, 53.080692494), (49.452929653, 49.541979661))
            ThreePointArc((49.452929653, 49.541979661), (46.792329252, 52.062250462), (44.003474329, 54.439822253))
            Line((44.003474329, 54.439822253), (47.146579638, 58.328380986))
            ThreePointArc((47.146579638, 58.328380986), (44.029295295, 60.715905296), (40.791329713, 62.937011529))
            Line((40.791329713, 62.937011529), (38.071907732, 58.741210761))
            ThreePointArc((38.071907732, 58.741210761), (34.94545407, 60.65323767), (31.723217347, 62.399018271))
            Line((31.723217347, 62.399018271), (33.989161443, 66.856091005))
            ThreePointArc((33.989161443, 66.856091005), (30.443603025, 68.543322321), (26.814600807, 70.042681156))
            Line((26.814600807, 70.042681156), (25.026960753, 65.373169079))
            ThreePointArc((25.026960753, 65.373169079), (21.571294857, 66.593387346), (18.056503541, 67.631077767))
            Line((18.056503541, 67.631077767), (19.346253794, 72.461869036))
            ThreePointArc((19.346253794, 72.461869036), (15.527379218, 73.375067255), (11.665945176, 74.087149514))
            Line((11.665945176, 74.087149514), (10.888215497, 69.148006213))
            ThreePointArc((10.888215497, 69.148006213), (7.254366549, 69.623086444), (3.600633886, 69.907334634))
            Line((3.600633886, 69.907334634), (3.857822021, 74.900715679))
            ThreePointArc((3.857822021, 74.900715679), (-0.067465569, 74.999969656), (-3.99256824, 74.893653929))
            Line((-3.99256824, 74.893653929), (-3.726397024, 69.900743667))
            ThreePointArc((-3.726397024, 69.900743667), (-7.379612388, 69.609922576), (-11.012600748, 69.128305525))
        make_face()
        Circle(SKETCH2_R, mode=Mode.SUBTRACT)
    extrude(amount=BOSS_EXTRUDE1_DEPTH)


solid = part.part
